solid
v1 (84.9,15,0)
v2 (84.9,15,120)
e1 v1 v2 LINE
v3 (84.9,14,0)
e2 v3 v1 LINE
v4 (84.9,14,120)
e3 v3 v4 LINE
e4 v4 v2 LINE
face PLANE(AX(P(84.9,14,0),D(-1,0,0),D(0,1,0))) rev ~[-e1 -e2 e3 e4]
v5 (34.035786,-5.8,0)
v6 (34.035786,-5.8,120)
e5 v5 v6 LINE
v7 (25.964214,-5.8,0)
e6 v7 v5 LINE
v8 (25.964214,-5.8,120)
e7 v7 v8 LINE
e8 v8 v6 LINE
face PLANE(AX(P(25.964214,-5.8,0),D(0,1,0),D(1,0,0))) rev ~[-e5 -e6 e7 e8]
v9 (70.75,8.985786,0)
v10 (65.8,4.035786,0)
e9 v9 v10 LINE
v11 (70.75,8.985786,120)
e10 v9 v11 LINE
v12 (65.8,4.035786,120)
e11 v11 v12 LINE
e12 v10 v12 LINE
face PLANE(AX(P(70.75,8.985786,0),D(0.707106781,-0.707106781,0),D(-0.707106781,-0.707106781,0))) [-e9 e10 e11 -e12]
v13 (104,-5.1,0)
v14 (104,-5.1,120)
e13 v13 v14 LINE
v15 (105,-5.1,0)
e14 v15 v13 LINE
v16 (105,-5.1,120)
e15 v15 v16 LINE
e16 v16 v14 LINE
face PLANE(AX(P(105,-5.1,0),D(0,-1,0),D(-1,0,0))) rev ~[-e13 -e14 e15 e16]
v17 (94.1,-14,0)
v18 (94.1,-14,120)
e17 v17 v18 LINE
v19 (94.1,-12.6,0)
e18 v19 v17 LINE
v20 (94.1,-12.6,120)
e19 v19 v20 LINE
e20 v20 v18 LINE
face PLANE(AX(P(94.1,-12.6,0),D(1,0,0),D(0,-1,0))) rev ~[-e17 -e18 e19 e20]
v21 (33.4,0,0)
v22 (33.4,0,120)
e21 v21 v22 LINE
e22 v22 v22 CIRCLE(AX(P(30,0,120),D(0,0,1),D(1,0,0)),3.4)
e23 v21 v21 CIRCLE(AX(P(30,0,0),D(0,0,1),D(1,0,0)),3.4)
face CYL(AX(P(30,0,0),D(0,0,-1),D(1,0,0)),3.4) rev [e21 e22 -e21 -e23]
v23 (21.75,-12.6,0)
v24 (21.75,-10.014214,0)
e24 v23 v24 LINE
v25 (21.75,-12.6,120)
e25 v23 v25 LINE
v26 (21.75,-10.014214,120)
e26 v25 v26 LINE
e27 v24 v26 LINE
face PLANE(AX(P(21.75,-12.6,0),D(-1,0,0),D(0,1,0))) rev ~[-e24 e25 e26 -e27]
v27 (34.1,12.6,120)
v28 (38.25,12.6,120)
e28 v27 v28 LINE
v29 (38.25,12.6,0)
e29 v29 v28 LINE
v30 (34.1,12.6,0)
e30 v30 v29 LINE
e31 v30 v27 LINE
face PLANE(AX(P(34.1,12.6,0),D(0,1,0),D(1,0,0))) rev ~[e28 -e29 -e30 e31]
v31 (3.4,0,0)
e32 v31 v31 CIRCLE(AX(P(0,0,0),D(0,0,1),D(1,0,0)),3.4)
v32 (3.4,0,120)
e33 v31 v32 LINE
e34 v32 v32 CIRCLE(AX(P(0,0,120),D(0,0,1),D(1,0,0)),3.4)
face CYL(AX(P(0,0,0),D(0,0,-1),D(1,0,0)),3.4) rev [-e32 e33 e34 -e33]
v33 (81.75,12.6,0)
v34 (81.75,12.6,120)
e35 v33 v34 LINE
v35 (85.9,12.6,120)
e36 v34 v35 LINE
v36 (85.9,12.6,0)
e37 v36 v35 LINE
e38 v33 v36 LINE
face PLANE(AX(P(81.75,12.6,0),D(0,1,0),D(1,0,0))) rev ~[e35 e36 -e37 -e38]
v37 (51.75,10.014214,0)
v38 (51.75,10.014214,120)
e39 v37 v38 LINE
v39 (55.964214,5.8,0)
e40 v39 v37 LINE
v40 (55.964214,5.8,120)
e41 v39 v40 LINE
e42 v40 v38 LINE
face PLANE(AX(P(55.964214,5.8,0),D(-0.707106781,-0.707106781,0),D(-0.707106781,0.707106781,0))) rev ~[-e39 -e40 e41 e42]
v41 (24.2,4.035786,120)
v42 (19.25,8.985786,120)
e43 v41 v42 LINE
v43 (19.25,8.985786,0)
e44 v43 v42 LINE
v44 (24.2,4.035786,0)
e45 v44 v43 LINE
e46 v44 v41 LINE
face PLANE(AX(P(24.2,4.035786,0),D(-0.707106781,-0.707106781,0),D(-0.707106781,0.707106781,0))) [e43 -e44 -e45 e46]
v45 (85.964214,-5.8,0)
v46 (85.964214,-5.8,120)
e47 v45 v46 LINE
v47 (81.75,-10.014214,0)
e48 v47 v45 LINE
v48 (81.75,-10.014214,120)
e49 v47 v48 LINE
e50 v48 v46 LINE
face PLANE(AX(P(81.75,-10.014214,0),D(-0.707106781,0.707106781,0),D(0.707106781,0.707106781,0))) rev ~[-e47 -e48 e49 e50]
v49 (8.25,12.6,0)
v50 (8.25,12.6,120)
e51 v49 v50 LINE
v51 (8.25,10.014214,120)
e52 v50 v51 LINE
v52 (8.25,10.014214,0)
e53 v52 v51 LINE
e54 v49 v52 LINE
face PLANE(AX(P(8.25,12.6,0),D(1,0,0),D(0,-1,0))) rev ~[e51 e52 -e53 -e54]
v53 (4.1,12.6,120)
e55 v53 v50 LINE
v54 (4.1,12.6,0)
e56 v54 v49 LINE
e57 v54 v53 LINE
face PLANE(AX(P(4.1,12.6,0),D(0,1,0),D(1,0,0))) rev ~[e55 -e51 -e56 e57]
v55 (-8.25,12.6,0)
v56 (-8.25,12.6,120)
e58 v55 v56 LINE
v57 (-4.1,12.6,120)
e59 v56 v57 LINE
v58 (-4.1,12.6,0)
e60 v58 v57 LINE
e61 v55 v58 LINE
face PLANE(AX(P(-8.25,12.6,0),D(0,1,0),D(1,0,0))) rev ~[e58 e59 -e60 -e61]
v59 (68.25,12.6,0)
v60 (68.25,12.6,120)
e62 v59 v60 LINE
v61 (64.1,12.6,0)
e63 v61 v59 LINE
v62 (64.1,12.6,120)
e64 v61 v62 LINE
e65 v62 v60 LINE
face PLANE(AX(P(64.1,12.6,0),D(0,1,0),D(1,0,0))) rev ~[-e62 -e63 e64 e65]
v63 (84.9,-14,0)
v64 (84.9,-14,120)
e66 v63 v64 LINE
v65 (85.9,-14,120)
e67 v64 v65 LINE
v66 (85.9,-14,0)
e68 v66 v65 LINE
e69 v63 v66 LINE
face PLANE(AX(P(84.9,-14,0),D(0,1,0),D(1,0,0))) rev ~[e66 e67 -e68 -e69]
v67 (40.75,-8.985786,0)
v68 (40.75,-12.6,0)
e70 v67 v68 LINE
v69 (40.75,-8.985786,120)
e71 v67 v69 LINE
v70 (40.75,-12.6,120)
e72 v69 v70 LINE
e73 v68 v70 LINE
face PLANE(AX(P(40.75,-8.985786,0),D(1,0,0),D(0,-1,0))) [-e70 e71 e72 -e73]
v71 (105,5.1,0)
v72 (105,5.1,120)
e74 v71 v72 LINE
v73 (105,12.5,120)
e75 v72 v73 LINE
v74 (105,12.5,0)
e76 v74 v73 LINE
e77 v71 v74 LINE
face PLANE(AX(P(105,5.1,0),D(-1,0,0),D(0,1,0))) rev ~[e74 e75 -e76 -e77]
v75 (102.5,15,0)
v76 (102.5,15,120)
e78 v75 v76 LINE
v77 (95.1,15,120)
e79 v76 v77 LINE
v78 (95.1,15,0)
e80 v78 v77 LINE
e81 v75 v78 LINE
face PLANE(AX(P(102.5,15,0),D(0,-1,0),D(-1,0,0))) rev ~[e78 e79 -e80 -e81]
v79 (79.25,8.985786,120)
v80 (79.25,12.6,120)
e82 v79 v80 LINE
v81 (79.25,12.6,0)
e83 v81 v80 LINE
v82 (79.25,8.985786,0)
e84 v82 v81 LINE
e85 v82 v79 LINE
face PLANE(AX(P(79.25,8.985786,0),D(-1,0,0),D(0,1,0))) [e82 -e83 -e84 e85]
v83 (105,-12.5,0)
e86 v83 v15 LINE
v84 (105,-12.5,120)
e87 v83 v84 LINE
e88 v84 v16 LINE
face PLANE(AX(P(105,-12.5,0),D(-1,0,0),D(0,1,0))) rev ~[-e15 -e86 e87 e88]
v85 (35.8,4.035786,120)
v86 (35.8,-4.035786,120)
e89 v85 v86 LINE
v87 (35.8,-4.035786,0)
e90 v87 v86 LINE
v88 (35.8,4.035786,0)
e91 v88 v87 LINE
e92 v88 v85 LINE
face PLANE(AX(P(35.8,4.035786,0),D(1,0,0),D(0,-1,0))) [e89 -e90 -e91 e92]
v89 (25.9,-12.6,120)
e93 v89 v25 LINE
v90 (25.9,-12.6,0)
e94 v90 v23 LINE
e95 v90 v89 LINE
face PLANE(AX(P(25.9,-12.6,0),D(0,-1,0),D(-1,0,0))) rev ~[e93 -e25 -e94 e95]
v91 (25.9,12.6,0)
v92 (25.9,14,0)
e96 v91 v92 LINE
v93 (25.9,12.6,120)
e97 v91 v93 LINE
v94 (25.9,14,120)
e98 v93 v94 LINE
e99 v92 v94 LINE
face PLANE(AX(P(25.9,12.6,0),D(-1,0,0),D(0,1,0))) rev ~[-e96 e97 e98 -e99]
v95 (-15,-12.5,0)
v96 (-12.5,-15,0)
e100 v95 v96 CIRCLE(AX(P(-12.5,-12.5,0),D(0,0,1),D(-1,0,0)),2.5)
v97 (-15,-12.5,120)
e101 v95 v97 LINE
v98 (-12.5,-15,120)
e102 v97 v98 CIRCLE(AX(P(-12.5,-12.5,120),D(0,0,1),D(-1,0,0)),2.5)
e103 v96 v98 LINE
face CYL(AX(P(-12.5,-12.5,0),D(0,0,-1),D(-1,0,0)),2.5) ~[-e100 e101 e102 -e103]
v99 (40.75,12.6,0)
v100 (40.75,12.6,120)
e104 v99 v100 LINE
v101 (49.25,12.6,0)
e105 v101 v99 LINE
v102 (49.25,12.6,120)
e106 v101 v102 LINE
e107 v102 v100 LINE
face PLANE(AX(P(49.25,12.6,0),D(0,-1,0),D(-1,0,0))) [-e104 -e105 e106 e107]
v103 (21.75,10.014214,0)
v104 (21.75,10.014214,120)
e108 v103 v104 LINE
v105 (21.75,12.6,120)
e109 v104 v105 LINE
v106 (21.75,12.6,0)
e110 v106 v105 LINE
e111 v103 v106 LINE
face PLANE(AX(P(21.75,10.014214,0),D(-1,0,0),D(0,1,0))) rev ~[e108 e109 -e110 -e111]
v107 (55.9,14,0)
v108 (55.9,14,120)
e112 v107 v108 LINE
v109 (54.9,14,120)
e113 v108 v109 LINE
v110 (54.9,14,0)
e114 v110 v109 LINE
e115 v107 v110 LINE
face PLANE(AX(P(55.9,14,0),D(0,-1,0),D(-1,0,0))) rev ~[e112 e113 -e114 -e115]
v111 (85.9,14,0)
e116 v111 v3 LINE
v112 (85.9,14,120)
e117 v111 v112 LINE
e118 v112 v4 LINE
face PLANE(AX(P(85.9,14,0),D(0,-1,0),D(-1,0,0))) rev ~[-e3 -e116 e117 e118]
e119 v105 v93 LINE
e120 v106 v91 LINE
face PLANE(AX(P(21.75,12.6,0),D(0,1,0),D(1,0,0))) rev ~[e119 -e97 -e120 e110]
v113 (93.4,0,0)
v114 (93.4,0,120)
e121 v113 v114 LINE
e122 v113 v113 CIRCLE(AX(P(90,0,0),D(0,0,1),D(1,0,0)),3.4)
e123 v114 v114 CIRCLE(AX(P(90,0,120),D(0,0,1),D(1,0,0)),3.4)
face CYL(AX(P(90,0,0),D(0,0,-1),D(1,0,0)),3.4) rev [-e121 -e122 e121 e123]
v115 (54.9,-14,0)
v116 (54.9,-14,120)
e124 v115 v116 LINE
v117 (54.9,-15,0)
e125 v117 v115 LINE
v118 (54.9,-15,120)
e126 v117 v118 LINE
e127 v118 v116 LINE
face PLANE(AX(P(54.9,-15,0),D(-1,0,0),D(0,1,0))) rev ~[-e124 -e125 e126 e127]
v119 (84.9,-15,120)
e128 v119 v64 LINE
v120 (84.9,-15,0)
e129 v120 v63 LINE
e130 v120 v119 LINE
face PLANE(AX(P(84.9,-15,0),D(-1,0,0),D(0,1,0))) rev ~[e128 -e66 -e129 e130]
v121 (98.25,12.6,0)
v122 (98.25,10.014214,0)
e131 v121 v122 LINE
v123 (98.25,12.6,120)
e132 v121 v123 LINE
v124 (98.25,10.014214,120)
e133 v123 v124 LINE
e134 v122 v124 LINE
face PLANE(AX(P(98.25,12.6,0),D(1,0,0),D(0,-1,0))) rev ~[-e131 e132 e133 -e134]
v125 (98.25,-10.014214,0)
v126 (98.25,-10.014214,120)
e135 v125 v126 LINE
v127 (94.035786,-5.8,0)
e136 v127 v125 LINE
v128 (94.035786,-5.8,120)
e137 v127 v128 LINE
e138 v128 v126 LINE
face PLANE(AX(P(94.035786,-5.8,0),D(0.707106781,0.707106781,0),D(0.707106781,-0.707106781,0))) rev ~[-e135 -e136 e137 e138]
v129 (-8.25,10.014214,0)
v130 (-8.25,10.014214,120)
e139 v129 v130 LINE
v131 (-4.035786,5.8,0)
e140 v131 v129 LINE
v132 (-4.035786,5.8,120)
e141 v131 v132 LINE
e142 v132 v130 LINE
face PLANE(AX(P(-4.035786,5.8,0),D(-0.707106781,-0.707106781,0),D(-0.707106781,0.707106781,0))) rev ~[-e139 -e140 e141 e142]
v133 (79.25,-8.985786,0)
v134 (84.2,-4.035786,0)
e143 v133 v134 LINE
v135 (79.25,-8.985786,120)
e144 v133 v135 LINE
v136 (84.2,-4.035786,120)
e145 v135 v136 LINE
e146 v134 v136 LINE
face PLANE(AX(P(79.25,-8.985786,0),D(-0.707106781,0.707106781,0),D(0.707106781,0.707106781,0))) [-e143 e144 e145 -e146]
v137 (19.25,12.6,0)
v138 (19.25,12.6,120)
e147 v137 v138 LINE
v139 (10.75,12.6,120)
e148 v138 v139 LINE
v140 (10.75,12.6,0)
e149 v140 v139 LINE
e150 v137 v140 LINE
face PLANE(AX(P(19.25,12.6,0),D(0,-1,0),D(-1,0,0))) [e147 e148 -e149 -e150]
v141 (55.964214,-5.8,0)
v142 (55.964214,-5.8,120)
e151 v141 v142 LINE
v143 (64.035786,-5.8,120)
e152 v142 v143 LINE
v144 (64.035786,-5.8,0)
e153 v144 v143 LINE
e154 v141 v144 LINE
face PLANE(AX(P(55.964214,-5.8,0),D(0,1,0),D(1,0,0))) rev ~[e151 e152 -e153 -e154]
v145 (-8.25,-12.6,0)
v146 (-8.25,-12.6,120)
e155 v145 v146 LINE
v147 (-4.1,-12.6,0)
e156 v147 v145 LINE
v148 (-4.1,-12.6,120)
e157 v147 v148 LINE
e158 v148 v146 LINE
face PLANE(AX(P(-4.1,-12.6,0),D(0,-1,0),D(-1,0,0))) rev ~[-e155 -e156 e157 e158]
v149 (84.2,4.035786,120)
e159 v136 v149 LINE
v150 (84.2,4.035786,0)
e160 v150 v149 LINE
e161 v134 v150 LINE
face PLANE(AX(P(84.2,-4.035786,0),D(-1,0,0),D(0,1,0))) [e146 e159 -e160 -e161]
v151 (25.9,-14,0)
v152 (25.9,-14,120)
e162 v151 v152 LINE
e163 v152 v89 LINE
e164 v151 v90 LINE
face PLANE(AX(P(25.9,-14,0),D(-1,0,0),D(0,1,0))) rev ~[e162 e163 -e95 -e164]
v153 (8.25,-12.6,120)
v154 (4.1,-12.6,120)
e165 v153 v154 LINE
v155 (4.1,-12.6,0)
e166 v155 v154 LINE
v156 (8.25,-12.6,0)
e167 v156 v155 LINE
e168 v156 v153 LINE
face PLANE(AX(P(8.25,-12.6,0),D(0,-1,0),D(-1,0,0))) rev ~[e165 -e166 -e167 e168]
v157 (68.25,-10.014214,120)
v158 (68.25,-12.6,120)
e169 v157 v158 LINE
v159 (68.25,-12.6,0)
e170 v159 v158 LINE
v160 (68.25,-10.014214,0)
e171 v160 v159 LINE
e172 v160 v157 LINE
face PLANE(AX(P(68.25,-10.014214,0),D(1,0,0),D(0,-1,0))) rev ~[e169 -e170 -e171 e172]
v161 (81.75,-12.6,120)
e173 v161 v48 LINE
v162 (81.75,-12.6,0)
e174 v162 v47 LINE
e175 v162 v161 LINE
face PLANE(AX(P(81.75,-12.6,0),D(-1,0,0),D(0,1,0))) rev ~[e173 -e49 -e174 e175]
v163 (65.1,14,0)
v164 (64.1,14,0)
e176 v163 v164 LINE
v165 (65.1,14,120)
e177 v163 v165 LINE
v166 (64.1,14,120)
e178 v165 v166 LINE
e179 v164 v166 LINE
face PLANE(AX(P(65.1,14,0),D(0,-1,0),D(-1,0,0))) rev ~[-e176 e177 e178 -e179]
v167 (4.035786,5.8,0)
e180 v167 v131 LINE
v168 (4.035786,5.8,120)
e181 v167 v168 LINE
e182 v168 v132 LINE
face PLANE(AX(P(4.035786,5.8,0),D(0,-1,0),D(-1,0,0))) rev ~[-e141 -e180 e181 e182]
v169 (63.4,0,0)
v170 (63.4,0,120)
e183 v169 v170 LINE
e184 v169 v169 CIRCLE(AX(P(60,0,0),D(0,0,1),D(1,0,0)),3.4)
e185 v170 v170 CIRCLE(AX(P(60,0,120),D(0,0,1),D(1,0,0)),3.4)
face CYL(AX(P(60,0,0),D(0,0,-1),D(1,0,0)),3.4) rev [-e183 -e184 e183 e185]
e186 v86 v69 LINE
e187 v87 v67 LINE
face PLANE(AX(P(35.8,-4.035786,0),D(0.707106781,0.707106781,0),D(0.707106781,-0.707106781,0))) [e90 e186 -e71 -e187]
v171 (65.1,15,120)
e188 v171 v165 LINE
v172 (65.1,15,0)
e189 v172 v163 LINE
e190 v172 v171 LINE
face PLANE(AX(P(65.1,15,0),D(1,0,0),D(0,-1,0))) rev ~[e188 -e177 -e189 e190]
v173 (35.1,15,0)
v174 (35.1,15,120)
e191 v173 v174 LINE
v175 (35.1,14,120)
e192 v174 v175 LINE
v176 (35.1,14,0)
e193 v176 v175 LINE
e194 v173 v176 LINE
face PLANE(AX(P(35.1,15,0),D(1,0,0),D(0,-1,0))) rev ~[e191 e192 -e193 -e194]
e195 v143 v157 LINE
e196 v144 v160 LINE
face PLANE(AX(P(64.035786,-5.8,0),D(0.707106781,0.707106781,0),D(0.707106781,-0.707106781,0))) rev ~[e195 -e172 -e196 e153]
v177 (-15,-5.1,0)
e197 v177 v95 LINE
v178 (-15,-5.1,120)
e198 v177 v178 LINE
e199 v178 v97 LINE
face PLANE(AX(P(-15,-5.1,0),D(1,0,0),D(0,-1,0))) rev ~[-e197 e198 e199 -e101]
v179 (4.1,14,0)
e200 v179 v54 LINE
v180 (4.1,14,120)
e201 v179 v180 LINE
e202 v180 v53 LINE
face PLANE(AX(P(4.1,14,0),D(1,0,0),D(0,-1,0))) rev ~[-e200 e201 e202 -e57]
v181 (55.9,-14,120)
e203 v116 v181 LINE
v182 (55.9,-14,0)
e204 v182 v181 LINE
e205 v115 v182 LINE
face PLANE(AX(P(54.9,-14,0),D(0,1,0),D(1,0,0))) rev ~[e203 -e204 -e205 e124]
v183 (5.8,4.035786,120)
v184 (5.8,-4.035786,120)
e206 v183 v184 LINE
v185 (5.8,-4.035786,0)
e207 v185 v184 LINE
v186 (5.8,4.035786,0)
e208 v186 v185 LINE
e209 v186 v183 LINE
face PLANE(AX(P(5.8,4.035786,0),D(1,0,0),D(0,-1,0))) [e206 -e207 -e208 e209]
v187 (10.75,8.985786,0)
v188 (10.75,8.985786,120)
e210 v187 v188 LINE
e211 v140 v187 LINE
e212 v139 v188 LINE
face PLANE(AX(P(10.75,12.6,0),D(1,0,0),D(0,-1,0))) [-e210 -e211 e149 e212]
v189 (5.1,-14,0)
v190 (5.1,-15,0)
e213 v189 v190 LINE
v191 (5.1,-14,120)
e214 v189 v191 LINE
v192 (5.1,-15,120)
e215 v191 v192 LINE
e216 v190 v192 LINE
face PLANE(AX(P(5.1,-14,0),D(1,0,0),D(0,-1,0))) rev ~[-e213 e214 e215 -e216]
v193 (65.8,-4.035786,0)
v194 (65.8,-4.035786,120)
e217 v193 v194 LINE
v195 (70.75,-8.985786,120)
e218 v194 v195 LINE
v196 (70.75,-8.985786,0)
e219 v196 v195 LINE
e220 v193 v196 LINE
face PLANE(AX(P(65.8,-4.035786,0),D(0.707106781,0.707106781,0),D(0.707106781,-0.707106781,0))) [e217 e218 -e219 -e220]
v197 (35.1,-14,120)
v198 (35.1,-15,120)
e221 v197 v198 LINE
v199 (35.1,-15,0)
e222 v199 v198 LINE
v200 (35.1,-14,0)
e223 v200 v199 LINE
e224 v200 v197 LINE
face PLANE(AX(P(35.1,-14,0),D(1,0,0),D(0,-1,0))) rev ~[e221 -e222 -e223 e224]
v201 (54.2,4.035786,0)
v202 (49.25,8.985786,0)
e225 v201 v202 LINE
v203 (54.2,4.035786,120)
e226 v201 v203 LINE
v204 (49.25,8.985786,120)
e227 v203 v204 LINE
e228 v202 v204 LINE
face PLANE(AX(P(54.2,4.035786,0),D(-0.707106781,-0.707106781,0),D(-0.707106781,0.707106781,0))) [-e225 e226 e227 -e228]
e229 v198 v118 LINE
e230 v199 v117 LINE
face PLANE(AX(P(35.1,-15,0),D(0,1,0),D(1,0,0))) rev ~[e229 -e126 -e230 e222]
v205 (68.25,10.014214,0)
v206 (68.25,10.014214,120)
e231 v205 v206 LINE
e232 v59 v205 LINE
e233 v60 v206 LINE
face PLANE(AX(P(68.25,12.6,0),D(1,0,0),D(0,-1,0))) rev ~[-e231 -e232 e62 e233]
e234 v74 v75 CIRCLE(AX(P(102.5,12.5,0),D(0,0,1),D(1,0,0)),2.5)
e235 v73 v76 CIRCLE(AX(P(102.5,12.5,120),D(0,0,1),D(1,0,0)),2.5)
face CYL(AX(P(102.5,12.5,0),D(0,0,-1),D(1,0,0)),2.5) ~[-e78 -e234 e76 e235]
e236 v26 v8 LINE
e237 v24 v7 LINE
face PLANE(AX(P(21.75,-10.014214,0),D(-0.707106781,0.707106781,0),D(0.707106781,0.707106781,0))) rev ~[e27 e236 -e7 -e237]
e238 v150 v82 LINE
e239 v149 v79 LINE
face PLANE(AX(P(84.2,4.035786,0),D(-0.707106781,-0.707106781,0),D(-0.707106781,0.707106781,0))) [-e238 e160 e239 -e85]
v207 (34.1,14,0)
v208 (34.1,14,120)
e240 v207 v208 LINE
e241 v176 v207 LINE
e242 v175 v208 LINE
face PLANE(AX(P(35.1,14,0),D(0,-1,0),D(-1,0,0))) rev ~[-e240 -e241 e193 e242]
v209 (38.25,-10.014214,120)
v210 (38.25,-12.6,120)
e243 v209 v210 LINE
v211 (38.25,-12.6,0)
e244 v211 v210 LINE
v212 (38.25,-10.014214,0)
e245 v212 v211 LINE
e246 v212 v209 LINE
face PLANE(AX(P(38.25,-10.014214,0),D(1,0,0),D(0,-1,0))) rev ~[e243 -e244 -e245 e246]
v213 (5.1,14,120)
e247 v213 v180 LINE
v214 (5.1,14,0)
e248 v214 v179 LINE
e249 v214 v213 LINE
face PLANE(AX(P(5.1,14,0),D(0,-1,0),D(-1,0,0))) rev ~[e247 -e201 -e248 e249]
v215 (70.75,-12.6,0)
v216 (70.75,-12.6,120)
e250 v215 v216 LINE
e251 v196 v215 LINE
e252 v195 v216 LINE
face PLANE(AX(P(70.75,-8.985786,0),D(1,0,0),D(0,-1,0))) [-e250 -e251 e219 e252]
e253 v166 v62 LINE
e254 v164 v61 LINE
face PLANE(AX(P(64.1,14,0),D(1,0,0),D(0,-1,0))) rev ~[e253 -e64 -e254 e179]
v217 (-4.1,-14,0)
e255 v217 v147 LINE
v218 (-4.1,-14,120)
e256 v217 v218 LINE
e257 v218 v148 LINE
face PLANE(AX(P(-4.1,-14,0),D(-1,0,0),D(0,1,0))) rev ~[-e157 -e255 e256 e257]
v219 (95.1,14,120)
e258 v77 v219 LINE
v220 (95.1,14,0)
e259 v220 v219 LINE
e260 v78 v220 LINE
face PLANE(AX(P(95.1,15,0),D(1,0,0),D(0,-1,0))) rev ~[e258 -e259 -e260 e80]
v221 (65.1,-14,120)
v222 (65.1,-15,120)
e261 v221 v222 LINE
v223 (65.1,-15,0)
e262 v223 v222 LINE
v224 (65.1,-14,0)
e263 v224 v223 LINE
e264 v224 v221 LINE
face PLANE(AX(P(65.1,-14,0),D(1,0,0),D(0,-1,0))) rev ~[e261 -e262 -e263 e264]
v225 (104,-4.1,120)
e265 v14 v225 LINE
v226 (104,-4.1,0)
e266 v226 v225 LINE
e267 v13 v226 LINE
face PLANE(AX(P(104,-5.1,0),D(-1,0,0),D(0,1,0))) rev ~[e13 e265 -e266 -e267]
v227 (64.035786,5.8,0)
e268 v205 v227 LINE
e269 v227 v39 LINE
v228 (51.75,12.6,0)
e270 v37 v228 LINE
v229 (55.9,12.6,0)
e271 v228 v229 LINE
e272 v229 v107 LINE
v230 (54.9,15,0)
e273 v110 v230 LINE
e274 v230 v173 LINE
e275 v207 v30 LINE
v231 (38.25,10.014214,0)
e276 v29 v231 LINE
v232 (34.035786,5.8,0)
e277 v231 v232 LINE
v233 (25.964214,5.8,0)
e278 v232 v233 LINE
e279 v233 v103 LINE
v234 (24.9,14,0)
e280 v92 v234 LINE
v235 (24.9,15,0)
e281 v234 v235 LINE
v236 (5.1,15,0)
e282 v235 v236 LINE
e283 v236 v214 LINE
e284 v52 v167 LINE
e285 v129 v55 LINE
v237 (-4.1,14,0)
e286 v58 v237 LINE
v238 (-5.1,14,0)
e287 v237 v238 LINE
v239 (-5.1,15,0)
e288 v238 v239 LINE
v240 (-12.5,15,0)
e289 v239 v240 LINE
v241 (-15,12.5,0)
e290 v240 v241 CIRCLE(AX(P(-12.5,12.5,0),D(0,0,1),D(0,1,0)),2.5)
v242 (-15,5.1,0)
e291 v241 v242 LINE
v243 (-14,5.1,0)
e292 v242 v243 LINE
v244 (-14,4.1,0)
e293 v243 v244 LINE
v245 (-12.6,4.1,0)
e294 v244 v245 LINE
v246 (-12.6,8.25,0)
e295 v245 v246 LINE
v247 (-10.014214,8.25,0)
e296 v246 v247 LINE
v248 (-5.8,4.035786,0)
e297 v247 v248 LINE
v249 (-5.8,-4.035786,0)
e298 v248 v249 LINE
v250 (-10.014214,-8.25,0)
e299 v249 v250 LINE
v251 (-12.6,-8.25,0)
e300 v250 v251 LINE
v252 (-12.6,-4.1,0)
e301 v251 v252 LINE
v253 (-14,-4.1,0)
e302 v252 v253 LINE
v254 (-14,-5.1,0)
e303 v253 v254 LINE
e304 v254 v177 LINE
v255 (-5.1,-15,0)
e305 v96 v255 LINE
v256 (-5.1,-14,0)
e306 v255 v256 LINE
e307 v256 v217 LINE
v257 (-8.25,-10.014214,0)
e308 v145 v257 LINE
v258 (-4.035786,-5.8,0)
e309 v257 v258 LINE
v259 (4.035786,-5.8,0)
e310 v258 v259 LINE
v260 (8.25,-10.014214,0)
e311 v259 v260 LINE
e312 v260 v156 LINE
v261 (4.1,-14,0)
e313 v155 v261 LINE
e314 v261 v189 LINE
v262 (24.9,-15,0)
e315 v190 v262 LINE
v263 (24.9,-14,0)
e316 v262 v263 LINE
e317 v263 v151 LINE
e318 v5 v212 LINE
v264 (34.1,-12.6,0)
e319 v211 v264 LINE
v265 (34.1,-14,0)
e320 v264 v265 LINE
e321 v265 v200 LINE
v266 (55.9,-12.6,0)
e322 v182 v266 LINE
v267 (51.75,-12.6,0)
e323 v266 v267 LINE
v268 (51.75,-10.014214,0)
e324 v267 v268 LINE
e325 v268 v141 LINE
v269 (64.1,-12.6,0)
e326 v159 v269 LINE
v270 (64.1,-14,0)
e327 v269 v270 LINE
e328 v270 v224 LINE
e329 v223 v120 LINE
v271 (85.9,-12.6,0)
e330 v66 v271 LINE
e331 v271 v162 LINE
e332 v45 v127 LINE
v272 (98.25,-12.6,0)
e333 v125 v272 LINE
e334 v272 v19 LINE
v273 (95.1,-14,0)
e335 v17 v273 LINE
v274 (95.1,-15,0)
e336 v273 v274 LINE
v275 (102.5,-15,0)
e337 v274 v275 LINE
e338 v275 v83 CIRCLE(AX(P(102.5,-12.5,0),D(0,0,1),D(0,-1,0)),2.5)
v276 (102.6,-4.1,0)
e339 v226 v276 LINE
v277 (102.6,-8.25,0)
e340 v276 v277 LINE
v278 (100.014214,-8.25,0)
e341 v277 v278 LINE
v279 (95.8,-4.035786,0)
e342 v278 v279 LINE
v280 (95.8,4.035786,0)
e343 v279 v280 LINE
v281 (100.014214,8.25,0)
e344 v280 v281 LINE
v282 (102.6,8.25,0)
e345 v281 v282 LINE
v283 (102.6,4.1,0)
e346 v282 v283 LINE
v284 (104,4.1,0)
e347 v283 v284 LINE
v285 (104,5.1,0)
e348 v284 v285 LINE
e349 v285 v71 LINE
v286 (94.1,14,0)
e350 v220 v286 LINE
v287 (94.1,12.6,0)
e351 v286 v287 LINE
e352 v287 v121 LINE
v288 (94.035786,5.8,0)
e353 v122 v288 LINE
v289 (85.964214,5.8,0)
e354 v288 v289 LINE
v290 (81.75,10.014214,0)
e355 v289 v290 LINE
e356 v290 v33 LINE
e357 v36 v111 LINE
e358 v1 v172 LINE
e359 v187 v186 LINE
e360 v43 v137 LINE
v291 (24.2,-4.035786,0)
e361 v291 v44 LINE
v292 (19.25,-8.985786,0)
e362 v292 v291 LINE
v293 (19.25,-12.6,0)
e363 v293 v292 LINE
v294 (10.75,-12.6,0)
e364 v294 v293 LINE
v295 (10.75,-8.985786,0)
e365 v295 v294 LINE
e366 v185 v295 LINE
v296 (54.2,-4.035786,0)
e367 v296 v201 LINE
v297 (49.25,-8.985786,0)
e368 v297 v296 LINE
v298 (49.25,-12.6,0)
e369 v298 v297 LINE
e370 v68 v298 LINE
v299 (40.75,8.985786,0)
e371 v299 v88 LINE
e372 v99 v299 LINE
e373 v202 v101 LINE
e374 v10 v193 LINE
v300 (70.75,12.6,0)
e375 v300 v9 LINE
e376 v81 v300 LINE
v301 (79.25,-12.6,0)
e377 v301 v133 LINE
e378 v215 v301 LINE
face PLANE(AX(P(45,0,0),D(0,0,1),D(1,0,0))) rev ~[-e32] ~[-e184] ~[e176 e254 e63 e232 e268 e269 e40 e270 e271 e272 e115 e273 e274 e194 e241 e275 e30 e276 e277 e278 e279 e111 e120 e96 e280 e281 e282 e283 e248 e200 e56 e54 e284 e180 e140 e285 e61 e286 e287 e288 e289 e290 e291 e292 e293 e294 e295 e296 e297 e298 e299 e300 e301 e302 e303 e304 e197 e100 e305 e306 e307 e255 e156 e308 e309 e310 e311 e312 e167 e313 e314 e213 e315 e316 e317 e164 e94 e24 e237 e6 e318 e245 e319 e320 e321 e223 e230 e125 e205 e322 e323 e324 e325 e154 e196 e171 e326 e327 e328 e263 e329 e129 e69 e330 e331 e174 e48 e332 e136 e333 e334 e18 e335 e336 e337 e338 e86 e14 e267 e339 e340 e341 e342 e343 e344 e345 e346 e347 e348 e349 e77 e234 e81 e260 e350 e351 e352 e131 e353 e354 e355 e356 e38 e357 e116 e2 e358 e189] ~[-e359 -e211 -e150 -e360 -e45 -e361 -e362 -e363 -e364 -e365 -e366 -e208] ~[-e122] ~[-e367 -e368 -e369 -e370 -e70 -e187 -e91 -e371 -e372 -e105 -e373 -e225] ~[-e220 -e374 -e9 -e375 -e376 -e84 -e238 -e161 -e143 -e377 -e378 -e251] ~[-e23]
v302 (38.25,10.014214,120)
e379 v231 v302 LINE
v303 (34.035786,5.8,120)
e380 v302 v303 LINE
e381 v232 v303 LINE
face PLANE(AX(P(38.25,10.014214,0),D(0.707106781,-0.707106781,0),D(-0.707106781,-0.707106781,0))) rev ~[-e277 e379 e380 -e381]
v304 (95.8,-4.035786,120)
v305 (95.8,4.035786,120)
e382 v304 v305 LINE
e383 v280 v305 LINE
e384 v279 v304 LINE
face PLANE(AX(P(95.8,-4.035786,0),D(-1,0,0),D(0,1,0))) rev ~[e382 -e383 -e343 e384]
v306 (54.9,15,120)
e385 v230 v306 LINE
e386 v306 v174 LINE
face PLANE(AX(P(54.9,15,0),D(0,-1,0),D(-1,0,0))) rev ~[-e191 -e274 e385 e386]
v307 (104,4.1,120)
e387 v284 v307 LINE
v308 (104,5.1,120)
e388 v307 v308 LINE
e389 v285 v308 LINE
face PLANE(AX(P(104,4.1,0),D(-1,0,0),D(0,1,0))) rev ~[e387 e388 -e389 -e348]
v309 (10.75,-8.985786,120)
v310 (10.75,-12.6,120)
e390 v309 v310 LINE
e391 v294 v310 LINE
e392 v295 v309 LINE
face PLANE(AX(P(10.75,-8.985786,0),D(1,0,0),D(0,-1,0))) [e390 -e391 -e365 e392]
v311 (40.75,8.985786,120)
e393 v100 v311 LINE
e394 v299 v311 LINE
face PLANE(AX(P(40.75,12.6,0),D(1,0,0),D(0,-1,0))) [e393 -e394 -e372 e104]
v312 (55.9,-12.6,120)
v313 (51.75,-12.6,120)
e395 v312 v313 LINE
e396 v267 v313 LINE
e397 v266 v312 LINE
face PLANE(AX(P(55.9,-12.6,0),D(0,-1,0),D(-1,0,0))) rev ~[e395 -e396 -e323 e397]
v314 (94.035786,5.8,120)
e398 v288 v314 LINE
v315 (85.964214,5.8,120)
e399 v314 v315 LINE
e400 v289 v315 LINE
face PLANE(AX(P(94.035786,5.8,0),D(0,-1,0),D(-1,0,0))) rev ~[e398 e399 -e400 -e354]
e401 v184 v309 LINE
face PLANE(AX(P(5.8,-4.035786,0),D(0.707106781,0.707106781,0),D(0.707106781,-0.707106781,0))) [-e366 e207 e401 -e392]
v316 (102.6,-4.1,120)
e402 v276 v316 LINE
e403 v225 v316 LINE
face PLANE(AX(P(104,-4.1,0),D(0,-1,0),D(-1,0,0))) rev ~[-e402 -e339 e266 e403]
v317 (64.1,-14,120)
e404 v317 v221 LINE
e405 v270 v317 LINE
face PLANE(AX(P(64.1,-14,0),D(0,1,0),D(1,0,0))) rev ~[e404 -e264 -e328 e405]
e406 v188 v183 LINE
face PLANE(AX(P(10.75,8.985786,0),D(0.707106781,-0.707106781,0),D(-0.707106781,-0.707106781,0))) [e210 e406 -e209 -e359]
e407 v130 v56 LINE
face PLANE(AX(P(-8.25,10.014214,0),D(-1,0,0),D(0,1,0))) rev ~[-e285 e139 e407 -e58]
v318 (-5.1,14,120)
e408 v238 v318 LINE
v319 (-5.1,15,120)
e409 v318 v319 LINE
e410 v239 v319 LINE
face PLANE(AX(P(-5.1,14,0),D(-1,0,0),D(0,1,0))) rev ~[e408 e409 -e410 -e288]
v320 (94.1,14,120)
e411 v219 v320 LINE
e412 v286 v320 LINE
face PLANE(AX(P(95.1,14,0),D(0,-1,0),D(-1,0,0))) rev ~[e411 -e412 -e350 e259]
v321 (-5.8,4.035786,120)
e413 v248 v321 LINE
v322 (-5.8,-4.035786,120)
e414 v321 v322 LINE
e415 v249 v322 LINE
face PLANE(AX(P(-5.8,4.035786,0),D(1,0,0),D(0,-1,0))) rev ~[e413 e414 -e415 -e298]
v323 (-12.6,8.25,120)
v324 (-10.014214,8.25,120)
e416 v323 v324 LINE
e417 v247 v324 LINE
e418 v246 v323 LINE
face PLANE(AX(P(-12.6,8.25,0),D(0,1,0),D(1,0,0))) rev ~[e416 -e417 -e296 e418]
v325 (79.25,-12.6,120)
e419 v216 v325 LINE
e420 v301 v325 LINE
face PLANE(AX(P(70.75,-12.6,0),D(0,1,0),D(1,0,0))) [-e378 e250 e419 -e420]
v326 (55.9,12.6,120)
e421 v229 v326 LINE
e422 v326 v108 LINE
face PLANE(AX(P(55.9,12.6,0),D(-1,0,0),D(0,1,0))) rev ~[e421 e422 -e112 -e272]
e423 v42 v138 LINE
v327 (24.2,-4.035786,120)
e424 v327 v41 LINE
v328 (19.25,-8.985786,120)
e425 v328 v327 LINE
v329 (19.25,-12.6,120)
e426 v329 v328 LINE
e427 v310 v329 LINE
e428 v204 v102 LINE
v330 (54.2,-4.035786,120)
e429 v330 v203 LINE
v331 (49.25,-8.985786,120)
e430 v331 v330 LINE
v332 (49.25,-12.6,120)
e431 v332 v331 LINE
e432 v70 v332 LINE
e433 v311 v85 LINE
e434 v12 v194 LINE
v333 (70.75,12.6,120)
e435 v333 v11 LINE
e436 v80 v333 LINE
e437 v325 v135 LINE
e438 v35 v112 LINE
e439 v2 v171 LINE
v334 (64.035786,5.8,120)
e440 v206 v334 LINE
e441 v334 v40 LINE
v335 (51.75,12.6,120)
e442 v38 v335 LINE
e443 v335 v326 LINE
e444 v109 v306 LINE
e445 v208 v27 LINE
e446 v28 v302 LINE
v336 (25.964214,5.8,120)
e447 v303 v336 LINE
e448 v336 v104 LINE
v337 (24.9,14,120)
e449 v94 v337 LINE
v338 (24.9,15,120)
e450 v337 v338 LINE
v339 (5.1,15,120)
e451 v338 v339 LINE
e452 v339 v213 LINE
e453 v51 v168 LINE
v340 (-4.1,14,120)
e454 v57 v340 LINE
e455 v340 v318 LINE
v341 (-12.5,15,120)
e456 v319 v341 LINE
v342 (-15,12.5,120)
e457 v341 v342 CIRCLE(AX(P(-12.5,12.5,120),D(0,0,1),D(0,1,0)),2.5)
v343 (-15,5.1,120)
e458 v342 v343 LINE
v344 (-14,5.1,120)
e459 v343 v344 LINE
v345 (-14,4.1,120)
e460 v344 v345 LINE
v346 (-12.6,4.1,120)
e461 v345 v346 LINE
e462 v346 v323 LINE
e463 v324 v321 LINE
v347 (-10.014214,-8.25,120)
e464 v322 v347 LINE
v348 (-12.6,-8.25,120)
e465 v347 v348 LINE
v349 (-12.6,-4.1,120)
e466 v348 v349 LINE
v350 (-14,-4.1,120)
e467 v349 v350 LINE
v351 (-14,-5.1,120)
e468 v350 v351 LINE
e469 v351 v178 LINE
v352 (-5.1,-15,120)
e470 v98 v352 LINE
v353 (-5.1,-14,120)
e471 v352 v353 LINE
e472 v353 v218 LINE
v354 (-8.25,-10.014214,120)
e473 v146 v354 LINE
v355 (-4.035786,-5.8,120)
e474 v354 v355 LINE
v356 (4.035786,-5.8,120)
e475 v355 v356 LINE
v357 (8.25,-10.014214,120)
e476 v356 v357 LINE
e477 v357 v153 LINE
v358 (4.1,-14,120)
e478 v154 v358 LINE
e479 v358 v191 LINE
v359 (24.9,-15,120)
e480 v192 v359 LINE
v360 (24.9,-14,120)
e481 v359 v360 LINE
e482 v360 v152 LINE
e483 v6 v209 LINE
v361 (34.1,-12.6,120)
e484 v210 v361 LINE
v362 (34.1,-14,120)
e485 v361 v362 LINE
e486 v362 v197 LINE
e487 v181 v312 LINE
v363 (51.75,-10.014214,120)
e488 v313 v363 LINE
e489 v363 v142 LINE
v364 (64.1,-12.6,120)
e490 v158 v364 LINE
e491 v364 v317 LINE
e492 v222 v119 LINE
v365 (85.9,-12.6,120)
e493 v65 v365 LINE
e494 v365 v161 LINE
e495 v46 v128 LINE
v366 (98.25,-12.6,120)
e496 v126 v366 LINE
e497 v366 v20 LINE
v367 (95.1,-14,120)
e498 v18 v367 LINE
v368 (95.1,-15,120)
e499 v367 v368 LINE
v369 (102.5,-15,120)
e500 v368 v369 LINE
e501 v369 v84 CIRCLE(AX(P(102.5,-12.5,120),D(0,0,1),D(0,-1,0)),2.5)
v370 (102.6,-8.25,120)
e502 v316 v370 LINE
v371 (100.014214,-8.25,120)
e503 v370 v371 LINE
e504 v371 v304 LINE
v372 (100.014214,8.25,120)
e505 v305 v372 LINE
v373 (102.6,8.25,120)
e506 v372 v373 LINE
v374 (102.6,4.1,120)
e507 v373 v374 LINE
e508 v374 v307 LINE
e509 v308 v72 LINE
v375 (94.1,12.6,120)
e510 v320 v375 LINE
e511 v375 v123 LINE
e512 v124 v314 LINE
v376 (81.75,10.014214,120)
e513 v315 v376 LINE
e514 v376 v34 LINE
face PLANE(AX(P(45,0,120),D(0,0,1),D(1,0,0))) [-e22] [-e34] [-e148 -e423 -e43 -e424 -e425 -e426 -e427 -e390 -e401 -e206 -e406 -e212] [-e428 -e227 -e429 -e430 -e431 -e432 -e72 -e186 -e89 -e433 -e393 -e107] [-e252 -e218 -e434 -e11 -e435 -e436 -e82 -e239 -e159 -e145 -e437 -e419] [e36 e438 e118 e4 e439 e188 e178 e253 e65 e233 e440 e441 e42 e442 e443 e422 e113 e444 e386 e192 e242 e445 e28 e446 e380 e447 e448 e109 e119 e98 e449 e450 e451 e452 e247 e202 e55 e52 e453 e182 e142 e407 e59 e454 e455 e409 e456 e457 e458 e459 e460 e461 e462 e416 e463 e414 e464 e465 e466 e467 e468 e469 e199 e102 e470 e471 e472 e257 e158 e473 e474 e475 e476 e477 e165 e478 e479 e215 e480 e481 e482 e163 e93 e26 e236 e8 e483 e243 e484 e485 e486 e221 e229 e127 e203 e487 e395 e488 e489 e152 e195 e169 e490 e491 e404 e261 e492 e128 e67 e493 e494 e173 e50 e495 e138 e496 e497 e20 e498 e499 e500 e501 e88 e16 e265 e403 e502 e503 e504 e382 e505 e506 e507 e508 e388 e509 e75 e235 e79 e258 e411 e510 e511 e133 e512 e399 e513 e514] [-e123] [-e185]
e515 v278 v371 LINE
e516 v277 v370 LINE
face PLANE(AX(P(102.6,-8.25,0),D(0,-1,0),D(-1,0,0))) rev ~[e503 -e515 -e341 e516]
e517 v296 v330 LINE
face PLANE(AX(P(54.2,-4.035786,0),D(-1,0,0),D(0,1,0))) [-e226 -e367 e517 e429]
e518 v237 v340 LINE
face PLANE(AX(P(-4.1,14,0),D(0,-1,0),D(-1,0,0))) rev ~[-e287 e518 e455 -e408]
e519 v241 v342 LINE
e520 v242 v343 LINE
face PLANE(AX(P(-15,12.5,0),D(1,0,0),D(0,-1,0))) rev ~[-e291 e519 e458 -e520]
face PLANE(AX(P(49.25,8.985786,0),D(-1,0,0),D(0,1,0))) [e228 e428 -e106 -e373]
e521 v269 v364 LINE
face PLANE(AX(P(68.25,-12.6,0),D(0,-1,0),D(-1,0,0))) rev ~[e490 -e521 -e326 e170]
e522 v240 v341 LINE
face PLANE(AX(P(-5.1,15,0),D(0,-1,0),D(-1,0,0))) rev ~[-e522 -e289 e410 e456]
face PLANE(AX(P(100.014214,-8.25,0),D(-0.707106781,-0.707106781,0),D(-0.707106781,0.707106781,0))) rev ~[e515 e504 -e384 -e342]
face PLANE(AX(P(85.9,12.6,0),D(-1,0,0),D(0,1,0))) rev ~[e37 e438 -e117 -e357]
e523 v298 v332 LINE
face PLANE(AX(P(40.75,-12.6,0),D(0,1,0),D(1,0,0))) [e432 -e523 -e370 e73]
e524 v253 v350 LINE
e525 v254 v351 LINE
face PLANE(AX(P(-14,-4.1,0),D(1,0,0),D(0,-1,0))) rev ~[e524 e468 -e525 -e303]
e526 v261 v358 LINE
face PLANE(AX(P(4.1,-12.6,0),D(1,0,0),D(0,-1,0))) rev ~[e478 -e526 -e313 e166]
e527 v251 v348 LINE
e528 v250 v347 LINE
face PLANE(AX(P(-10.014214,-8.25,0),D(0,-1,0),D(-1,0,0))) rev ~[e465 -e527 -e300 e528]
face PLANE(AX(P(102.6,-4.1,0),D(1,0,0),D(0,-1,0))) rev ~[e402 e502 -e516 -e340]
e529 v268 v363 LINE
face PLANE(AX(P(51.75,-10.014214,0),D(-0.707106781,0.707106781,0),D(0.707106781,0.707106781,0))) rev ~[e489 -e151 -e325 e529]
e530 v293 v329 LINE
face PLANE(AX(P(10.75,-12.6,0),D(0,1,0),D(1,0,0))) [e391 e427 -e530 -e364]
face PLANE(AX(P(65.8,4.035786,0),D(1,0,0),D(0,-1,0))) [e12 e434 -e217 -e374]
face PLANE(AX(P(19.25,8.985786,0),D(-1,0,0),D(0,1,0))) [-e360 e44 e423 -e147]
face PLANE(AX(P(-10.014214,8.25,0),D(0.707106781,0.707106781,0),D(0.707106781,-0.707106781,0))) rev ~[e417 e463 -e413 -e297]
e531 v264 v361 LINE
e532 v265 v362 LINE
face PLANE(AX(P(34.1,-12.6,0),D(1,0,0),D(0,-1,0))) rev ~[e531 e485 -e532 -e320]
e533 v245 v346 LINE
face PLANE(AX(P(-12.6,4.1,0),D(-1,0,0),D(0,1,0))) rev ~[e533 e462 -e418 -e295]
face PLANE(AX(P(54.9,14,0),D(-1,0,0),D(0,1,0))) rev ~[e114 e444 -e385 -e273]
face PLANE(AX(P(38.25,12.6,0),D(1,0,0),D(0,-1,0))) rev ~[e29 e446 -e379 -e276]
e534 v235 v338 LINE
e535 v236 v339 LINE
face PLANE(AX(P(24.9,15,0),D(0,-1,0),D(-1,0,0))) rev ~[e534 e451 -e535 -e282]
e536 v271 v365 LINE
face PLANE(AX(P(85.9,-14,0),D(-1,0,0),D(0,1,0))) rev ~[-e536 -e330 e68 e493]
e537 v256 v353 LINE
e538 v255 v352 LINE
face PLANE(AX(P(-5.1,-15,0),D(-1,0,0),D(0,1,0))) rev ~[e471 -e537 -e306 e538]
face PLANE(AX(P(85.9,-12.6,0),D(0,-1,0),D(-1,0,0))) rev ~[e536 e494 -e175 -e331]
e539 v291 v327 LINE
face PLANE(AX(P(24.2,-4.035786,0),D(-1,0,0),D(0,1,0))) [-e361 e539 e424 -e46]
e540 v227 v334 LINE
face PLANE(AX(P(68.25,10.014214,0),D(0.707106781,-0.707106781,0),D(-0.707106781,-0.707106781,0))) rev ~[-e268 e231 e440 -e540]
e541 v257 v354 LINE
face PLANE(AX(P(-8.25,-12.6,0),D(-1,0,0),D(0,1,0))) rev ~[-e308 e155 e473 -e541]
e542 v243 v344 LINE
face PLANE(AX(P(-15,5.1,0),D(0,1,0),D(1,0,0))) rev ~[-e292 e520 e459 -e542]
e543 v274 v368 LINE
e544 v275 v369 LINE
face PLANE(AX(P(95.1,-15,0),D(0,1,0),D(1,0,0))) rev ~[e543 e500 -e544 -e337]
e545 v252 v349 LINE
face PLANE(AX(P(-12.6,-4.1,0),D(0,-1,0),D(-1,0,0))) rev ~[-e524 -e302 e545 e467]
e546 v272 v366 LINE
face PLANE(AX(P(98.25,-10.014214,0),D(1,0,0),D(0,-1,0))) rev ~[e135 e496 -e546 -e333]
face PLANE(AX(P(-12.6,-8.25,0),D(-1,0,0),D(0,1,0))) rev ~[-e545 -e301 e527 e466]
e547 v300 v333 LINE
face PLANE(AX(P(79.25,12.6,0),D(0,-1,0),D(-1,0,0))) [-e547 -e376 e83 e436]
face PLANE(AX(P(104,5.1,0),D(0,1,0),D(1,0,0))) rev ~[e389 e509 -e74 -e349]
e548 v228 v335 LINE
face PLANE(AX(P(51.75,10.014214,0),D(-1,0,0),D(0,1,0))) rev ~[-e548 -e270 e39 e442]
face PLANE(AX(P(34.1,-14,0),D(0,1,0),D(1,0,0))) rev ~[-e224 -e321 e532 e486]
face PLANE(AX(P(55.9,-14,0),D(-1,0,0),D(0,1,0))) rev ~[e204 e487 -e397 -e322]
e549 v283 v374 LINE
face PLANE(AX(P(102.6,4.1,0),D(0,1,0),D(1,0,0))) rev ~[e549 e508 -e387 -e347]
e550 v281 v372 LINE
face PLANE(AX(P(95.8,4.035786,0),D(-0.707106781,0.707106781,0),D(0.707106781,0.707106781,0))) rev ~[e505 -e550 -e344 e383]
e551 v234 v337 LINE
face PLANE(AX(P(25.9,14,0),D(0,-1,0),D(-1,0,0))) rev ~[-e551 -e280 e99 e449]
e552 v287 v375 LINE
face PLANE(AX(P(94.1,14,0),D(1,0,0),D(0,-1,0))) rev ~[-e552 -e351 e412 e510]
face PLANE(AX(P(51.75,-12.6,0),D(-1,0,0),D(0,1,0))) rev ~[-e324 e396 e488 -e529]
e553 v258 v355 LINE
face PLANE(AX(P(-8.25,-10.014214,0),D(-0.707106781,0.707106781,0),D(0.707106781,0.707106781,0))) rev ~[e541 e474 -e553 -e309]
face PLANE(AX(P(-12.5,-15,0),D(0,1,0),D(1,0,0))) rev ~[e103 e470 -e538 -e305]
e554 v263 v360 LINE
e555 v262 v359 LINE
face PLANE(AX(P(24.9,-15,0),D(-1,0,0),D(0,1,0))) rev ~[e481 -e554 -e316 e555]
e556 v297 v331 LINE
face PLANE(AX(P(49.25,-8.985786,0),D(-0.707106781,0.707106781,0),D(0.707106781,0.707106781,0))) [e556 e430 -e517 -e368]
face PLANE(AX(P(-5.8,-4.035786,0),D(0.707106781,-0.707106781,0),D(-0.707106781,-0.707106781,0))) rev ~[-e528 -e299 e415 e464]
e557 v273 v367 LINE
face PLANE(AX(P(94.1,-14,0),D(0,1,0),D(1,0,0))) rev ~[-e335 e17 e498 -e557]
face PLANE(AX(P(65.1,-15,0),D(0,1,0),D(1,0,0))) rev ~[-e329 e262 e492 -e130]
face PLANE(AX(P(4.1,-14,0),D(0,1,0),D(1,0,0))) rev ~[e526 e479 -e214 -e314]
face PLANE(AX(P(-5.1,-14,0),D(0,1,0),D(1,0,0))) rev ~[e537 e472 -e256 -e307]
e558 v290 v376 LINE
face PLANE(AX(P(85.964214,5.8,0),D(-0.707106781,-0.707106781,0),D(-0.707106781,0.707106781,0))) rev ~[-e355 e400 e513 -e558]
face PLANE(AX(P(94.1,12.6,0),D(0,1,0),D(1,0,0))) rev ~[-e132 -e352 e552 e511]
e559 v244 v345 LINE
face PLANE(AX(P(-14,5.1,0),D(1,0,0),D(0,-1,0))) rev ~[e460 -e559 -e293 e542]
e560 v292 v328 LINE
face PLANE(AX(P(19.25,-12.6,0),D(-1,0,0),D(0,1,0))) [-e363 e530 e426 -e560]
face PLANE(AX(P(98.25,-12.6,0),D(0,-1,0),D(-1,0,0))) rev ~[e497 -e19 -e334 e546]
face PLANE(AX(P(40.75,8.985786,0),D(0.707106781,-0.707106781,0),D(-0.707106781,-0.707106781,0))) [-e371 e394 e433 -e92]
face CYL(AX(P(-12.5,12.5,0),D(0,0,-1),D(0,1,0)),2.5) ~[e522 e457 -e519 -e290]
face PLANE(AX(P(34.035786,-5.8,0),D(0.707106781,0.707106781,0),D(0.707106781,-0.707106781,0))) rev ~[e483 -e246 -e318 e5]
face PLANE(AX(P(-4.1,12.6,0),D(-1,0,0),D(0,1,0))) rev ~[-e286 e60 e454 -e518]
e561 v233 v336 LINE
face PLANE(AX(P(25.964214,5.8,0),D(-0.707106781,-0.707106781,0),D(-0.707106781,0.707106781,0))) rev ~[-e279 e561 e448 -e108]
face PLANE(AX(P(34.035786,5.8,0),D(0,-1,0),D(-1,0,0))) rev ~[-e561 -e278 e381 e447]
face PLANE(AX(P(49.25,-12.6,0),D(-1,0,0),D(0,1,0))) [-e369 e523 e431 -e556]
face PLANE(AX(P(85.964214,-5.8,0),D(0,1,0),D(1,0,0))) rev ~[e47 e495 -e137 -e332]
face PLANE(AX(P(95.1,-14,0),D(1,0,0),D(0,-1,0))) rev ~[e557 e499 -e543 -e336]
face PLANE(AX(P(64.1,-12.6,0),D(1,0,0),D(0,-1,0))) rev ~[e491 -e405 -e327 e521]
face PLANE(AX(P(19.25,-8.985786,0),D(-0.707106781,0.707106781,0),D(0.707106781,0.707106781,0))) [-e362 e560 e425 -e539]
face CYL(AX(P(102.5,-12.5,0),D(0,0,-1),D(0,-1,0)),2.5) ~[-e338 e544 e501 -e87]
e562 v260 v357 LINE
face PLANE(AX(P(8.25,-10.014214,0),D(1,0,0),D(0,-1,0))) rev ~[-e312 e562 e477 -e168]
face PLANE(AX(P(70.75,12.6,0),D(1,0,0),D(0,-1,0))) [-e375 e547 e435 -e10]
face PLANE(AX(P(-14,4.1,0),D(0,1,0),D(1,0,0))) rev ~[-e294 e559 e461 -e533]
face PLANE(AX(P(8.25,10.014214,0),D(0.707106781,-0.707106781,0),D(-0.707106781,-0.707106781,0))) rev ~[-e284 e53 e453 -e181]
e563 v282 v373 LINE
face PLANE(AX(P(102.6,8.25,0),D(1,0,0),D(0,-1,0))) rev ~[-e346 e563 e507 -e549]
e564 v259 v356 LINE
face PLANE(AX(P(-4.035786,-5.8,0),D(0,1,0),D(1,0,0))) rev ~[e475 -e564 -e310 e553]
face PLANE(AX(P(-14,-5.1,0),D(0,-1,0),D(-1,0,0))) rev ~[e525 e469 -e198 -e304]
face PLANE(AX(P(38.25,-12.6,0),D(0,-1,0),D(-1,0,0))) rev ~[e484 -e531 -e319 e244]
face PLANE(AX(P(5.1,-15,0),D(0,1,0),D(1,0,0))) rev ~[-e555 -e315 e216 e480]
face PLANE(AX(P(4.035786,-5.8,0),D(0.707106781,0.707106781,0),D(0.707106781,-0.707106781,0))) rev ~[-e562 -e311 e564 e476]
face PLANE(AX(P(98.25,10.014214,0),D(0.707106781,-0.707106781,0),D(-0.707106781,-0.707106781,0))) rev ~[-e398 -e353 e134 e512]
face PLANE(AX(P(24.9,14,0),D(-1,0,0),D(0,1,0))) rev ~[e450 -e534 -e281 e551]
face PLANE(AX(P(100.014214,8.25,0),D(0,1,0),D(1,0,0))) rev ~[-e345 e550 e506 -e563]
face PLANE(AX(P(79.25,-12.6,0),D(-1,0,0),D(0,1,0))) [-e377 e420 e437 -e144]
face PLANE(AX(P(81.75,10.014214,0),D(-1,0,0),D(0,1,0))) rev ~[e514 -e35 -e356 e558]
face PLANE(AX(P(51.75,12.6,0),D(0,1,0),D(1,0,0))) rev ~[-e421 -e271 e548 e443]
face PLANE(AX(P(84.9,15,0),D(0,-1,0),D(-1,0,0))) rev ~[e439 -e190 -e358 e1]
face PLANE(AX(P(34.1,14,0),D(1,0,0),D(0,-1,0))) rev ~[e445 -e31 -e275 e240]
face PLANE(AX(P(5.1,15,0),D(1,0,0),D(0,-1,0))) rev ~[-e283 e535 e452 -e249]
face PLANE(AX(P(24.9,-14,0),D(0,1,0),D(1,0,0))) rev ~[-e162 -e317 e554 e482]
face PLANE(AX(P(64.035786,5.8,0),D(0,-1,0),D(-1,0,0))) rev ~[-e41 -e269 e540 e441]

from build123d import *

# Parameters (mm, degrees)
SKETCH_1_R      = 3.4
EXTRUDE_1_DEPTH = 120


with BuildPart() as part:
    # 草图1 → 凸台-拉伸1 (new body)
    with BuildSketch(Plane.XY):
        with BuildLine():
            Line((104, 5.1), (105, 5.1))
            Line((105, 5.1), (105, 12.5))
            ThreePointArc((105, 12.5), (104.267766953, 14.267766953), (102.5, 15))
            Line((102.5, 15), (95.1, 15))
            Line((95.1, 15), (95.1, 14))
            Line((95.1, 14), (94.1, 14))
            Line((94.1, 14), (94.1, 12.6))
            Line((94.1, 12.6), (98.25, 12.6))
            Line((98.25, 12.6), (98.25, 10.014213562))
            Line((98.25, 10.014213562), (94.035786438, 5.8))
            Line((94.035786438, 5.8), (85.964213562, 5.8))
            Line((85.964213562, 5.8), (81.75, 10.014213562))
            Line((81.75, 10.014213562), (81.75, 12.6))
            Line((81.75, 12.6), (85.9, 12.6))
            Line((85.9, 12.6), (85.9, 14))
            Line((85.9, 14), (84.9, 14))
            Line((84.9, 14), (84.9, 15))
            Line((84.9, 15), (65.1, 15))
            Line((65.1, 15), (65.1, 14))
            Line((65.1, 14), (64.1, 14))
            Line((64.1, 14), (64.1, 12.6))
            Line((64.1, 12.6), (68.25, 12.6))
            Line((68.25, 12.6), (68.25, 10.014213562))
            Line((68.25, 10.014213562), (64.035786438, 5.8))
            Line((64.035786438, 5.8), (55.964213562, 5.8))
            Line((55.964213562, 5.8), (51.75, 10.014213562))
            Line((51.75, 10.014213562), (51.75, 12.6))
            Line((51.75, 12.6), (55.9, 12.6))
            Line((55.9, 12.6), (55.9, 14))
            Line((55.9, 14), (54.9, 14))
            Line((54.9, 14), (54.9, 15))
            Line((54.9, 15), (35.1, 15))
            Line((35.1, 15), (35.1, 14))
            Line((35.1, 14), (34.1, 14))
            Line((34.1, 14), (34.1, 12.6))
            Line((34.1, 12.6), (38.25, 12.6))
            Line((38.25, 12.6), (38.25, 10.014213562))
            Line((38.25, 10.014213562), (34.035786438, 5.8))
            Line((34.035786438, 5.8), (25.964213562, 5.8))
            Line((25.964213562, 5.8), (21.75, 10.014213562))
            Line((21.75, 10.014213562), (21.75, 12.6))
            Line((21.75, 12.6), (25.9, 12.6))
            Line((25.9, 12.6), (25.9, 14))
            Line((25.9, 14), (24.9, 14))
            Line((24.9, 14), (24.9, 15))
            Line((24.9, 15), (5.1, 15))
            Line((5.1, 15), (5.1, 14))
            Line((5.1, 14), (4.1, 14))
            Line((4.1, 14), (4.1, 12.6))
            Line((4.1, 12.6), (8.25, 12.6))
            Line((8.25, 12.6), (8.25, 10.014213562))
            Line((8.25, 10.014213562), (4.035786438, 5.8))
            Line((4.035786438, 5.8), (-4.035786438, 5.8))
            Line((-4.035786438, 5.8), (-8.25, 10.014213562))
            Line((-8.25, 10.014213562), (-8.25, 12.6))
            Line((-8.25, 12.6), (-4.1, 12.6))
            Line((-4.1, 12.6), (-4.1, 14))
            Line((-4.1, 14), (-5.1, 14))
            Line((-5.1, 14), (-5.1, 15))
            Line((-5.1, 15), (-12.5, 15))
            ThreePointArc((-12.5, 15), (-14.267766953, 14.267766953), (-15, 12.5))
            Line((-15, 12.5), (-15, 5.1))
            Line((-15, 5.1), (-14, 5.1))
            Line((-14, 5.1), (-14, 4.1))
            Line((-14, 4.1), (-12.6, 4.1))
            Line((-12.6, 4.1), (-12.6, 8.25))
            Line((-12.6, 8.25), (-10.014213562, 8.25))
            Line((-10.014213562, 8.25), (-5.8, 4.035786438))
            Line((-5.8, 4.035786438), (-5.8, -4.035786438))
            Line((-5.8, -4.035786438), (-10.014213562, -8.25))
            Line((-10.014213562, -8.25), (-12.6, -8.25))
            Line((-12.6, -8.25), (-12.6, -4.1))
            Line((-12.6, -4.1), (-14, -4.1))
            Line((-14, -4.1), (-14, -5.1))
            Line((-14, -5.1), (-15, -5.1))
            Line((-15, -5.1), (-15, -12.5))
            ThreePointArc((-15, -12.5), (-14.267766953, -14.267766953), (-12.5, -15))
            Line((-12.5, -15), (-5.1, -15))
            Line((-5.1, -15), (-5.1, -14))
            Line((-5.1, -14), (-4.1, -14))
            Line((-4.1, -14), (-4.1, -12.6))
            Line((-4.1, -12.6), (-8.25, -12.6))
            Line((-8.25, -12.6), (-8.25, -10.014213562))
            Line((-8.25, -10.014213562), (-4.035786438, -5.8))
            Line((-4.035786438, -5.8), (4.035786438, -5.8))
            Line((4.035786438, -5.8), (8.25, -10.014213562))
            Line((8.25, -10.014213562), (8.25, -12.6))
            Line((8.25, -12.6), (4.1, -12.6))
            Line((4.1, -12.6), (4.1, -14))
            Line((4.1, -14), (5.1, -14))
            Line((5.1, -14), (5.1, -15))
            Line((5.1, -15), (24.9, -15))
            Line((24.9, -15), (24.9, -14))
            Line((24.9, -14), (25.9, -14))
            Line((25.9, -14), (25.9, -12.6))
            Line((25.9, -12.6), (21.75, -12.6))
            Line((21.75, -12.6), (21.75, -10.014213562))
            Line((21.75, -10.014213562), (25.964213562, -5.8))
            Line((25.964213562, -5.8), (34.035786438, -5.8))
            Line((34.035786438, -5.8), (38.25, -10.014213562))
            Line((38.25, -10.014213562), (38.25, -12.6))
            Line((38.25, -12.6), (34.1, -12.6))
            Line((34.1, -12.6), (34.1, -14))
            Line((34.1, -14), (35.1, -14))
            Line((35.1, -14), (35.1, -15))
            Line((35.1, -15), (54.9, -15))
            Line((54.9, -15), (54.9, -14))
            Line((54.9, -14), (55.9, -14))
            Line((55.9, -14), (55.9, -12.6))
            Line((55.9, -12.6), (51.75, -12.6))
            Line((51.75, -12.6), (51.75, -10.014213562))
            Line((51.75, -10.014213562), (55.964213562, -5.8))
            Line((55.964213562, -5.8), (64.035786438, -5.8))
            Line((64.035786438, -5.8), (68.25, -10.014213562))
            Line((68.25, -10.014213562), (68.25, -12.6))
            Line((68.25, -12.6), (64.1, -12.6))
            Line((64.1, -12.6), (64.1, -14))
            Line((64.1, -14), (65.1, -14))
            Line((65.1, -14), (65.1, -15))
            Line((65.1, -15), (84.9, -15))
            Line((84.9, -15), (84.9, -14))
            Line((84.9, -14), (85.9, -14))
            Line((85.9, -14), (85.9, -12.6))
            Line((85.9, -12.6), (81.75, -12.6))
            Line((81.75, -12.6), (81.75, -10.014213562))
            Line((81.75, -10.014213562), (85.964213562, -5.8))
            Line((85.964213562, -5.8), (94.035786438, -5.8))
            Line((94.035786438, -5.8), (98.25, -10.014213562))
            Line((98.25, -10.014213562), (98.25, -12.6))
            Line((98.25, -12.6), (94.1, -12.6))
            Line((94.1, -12.6), (94.1, -14))
            Line((94.1, -14), (95.1, -14))
            Line((95.1, -14), (95.1, -15))
            Line((95.1, -15), (102.5, -15))
            ThreePointArc((102.5, -15), (104.267766953, -14.267766953), (105, -12.5))
            Line((105, -12.5), (105, -5.1))
            Line((105, -5.1), (104, -5.1))
            Line((104, -5.1), (104, -4.1))
            Line((104, -4.1), (102.6, -4.1))
            Line((102.6, -4.1), (102.6, -8.25))
            Line((102.6, -8.25), (100.014213562, -8.25))
            Line((100.014213562, -8.25), (95.8, -4.035786438))
            Line((95.8, -4.035786438), (95.8, 4.035786438))
            Line((95.8, 4.035786438), (100.014213562, 8.25))
            Line((100.014213562, 8.25), (102.6, 8.25))
            Line((102.6, 8.25), (102.6, 4.1))
            Line((102.6, 4.1), (104, 4.1))
            Line((104, 4.1), (104, 5.1))
        make_face()
        with Locations((90, 0)):
            Circle(SKETCH_1_R, mode=Mode.SUBTRACT)
        with Locations((60, 0)):
            Circle(SKETCH_1_R, mode=Mode.SUBTRACT)
        with Locations((30, 0)):
            Circle(SKETCH_1_R, mode=Mode.SUBTRACT)
        Circle(SKETCH_1_R, mode=Mode.SUBTRACT)
        Polygon((84.2, -4.035786438), (84.2, 4.035786438), (79.25, 8.985786438), (79.25, 12.6), (70.75, 12.6), (70.75, 8.985786438), (65.8, 4.035786438), (65.8, -4.035786438), (70.75, -8.985786438), (70.75, -12.6), (79.25, -12.6), (79.25, -8.985786438), align=None, mode=Mode.SUBTRACT)
        Polygon((54.2, -4.035786438), (54.2, 4.035786438), (49.25, 8.985786438), (49.25, 12.6), (40.75, 12.6), (40.75, 8.985786438), (35.8, 4.035786438), (35.8, -4.035786438), (40.75, -8.985786438), (40.75, -12.6), (49.25, -12.6), (49.25, -8.985786438), align=None, mode=Mode.SUBTRACT)
        Polygon((24.2, -4.035786438), (24.2, 4.035786438), (19.25, 8.985786438), (19.25, 12.6), (10.75, 12.6), (10.75, 8.985786438), (5.8, 4.035786438), (5.8, -4.035786438), (10.75, -8.985786438), (10.75, -12.6), (19.25, -12.6), (19.25, -8.985786438), align=None, mode=Mode.SUBTRACT)
    extrude(amount=EXTRUDE_1_DEPTH)


solid = part.part
